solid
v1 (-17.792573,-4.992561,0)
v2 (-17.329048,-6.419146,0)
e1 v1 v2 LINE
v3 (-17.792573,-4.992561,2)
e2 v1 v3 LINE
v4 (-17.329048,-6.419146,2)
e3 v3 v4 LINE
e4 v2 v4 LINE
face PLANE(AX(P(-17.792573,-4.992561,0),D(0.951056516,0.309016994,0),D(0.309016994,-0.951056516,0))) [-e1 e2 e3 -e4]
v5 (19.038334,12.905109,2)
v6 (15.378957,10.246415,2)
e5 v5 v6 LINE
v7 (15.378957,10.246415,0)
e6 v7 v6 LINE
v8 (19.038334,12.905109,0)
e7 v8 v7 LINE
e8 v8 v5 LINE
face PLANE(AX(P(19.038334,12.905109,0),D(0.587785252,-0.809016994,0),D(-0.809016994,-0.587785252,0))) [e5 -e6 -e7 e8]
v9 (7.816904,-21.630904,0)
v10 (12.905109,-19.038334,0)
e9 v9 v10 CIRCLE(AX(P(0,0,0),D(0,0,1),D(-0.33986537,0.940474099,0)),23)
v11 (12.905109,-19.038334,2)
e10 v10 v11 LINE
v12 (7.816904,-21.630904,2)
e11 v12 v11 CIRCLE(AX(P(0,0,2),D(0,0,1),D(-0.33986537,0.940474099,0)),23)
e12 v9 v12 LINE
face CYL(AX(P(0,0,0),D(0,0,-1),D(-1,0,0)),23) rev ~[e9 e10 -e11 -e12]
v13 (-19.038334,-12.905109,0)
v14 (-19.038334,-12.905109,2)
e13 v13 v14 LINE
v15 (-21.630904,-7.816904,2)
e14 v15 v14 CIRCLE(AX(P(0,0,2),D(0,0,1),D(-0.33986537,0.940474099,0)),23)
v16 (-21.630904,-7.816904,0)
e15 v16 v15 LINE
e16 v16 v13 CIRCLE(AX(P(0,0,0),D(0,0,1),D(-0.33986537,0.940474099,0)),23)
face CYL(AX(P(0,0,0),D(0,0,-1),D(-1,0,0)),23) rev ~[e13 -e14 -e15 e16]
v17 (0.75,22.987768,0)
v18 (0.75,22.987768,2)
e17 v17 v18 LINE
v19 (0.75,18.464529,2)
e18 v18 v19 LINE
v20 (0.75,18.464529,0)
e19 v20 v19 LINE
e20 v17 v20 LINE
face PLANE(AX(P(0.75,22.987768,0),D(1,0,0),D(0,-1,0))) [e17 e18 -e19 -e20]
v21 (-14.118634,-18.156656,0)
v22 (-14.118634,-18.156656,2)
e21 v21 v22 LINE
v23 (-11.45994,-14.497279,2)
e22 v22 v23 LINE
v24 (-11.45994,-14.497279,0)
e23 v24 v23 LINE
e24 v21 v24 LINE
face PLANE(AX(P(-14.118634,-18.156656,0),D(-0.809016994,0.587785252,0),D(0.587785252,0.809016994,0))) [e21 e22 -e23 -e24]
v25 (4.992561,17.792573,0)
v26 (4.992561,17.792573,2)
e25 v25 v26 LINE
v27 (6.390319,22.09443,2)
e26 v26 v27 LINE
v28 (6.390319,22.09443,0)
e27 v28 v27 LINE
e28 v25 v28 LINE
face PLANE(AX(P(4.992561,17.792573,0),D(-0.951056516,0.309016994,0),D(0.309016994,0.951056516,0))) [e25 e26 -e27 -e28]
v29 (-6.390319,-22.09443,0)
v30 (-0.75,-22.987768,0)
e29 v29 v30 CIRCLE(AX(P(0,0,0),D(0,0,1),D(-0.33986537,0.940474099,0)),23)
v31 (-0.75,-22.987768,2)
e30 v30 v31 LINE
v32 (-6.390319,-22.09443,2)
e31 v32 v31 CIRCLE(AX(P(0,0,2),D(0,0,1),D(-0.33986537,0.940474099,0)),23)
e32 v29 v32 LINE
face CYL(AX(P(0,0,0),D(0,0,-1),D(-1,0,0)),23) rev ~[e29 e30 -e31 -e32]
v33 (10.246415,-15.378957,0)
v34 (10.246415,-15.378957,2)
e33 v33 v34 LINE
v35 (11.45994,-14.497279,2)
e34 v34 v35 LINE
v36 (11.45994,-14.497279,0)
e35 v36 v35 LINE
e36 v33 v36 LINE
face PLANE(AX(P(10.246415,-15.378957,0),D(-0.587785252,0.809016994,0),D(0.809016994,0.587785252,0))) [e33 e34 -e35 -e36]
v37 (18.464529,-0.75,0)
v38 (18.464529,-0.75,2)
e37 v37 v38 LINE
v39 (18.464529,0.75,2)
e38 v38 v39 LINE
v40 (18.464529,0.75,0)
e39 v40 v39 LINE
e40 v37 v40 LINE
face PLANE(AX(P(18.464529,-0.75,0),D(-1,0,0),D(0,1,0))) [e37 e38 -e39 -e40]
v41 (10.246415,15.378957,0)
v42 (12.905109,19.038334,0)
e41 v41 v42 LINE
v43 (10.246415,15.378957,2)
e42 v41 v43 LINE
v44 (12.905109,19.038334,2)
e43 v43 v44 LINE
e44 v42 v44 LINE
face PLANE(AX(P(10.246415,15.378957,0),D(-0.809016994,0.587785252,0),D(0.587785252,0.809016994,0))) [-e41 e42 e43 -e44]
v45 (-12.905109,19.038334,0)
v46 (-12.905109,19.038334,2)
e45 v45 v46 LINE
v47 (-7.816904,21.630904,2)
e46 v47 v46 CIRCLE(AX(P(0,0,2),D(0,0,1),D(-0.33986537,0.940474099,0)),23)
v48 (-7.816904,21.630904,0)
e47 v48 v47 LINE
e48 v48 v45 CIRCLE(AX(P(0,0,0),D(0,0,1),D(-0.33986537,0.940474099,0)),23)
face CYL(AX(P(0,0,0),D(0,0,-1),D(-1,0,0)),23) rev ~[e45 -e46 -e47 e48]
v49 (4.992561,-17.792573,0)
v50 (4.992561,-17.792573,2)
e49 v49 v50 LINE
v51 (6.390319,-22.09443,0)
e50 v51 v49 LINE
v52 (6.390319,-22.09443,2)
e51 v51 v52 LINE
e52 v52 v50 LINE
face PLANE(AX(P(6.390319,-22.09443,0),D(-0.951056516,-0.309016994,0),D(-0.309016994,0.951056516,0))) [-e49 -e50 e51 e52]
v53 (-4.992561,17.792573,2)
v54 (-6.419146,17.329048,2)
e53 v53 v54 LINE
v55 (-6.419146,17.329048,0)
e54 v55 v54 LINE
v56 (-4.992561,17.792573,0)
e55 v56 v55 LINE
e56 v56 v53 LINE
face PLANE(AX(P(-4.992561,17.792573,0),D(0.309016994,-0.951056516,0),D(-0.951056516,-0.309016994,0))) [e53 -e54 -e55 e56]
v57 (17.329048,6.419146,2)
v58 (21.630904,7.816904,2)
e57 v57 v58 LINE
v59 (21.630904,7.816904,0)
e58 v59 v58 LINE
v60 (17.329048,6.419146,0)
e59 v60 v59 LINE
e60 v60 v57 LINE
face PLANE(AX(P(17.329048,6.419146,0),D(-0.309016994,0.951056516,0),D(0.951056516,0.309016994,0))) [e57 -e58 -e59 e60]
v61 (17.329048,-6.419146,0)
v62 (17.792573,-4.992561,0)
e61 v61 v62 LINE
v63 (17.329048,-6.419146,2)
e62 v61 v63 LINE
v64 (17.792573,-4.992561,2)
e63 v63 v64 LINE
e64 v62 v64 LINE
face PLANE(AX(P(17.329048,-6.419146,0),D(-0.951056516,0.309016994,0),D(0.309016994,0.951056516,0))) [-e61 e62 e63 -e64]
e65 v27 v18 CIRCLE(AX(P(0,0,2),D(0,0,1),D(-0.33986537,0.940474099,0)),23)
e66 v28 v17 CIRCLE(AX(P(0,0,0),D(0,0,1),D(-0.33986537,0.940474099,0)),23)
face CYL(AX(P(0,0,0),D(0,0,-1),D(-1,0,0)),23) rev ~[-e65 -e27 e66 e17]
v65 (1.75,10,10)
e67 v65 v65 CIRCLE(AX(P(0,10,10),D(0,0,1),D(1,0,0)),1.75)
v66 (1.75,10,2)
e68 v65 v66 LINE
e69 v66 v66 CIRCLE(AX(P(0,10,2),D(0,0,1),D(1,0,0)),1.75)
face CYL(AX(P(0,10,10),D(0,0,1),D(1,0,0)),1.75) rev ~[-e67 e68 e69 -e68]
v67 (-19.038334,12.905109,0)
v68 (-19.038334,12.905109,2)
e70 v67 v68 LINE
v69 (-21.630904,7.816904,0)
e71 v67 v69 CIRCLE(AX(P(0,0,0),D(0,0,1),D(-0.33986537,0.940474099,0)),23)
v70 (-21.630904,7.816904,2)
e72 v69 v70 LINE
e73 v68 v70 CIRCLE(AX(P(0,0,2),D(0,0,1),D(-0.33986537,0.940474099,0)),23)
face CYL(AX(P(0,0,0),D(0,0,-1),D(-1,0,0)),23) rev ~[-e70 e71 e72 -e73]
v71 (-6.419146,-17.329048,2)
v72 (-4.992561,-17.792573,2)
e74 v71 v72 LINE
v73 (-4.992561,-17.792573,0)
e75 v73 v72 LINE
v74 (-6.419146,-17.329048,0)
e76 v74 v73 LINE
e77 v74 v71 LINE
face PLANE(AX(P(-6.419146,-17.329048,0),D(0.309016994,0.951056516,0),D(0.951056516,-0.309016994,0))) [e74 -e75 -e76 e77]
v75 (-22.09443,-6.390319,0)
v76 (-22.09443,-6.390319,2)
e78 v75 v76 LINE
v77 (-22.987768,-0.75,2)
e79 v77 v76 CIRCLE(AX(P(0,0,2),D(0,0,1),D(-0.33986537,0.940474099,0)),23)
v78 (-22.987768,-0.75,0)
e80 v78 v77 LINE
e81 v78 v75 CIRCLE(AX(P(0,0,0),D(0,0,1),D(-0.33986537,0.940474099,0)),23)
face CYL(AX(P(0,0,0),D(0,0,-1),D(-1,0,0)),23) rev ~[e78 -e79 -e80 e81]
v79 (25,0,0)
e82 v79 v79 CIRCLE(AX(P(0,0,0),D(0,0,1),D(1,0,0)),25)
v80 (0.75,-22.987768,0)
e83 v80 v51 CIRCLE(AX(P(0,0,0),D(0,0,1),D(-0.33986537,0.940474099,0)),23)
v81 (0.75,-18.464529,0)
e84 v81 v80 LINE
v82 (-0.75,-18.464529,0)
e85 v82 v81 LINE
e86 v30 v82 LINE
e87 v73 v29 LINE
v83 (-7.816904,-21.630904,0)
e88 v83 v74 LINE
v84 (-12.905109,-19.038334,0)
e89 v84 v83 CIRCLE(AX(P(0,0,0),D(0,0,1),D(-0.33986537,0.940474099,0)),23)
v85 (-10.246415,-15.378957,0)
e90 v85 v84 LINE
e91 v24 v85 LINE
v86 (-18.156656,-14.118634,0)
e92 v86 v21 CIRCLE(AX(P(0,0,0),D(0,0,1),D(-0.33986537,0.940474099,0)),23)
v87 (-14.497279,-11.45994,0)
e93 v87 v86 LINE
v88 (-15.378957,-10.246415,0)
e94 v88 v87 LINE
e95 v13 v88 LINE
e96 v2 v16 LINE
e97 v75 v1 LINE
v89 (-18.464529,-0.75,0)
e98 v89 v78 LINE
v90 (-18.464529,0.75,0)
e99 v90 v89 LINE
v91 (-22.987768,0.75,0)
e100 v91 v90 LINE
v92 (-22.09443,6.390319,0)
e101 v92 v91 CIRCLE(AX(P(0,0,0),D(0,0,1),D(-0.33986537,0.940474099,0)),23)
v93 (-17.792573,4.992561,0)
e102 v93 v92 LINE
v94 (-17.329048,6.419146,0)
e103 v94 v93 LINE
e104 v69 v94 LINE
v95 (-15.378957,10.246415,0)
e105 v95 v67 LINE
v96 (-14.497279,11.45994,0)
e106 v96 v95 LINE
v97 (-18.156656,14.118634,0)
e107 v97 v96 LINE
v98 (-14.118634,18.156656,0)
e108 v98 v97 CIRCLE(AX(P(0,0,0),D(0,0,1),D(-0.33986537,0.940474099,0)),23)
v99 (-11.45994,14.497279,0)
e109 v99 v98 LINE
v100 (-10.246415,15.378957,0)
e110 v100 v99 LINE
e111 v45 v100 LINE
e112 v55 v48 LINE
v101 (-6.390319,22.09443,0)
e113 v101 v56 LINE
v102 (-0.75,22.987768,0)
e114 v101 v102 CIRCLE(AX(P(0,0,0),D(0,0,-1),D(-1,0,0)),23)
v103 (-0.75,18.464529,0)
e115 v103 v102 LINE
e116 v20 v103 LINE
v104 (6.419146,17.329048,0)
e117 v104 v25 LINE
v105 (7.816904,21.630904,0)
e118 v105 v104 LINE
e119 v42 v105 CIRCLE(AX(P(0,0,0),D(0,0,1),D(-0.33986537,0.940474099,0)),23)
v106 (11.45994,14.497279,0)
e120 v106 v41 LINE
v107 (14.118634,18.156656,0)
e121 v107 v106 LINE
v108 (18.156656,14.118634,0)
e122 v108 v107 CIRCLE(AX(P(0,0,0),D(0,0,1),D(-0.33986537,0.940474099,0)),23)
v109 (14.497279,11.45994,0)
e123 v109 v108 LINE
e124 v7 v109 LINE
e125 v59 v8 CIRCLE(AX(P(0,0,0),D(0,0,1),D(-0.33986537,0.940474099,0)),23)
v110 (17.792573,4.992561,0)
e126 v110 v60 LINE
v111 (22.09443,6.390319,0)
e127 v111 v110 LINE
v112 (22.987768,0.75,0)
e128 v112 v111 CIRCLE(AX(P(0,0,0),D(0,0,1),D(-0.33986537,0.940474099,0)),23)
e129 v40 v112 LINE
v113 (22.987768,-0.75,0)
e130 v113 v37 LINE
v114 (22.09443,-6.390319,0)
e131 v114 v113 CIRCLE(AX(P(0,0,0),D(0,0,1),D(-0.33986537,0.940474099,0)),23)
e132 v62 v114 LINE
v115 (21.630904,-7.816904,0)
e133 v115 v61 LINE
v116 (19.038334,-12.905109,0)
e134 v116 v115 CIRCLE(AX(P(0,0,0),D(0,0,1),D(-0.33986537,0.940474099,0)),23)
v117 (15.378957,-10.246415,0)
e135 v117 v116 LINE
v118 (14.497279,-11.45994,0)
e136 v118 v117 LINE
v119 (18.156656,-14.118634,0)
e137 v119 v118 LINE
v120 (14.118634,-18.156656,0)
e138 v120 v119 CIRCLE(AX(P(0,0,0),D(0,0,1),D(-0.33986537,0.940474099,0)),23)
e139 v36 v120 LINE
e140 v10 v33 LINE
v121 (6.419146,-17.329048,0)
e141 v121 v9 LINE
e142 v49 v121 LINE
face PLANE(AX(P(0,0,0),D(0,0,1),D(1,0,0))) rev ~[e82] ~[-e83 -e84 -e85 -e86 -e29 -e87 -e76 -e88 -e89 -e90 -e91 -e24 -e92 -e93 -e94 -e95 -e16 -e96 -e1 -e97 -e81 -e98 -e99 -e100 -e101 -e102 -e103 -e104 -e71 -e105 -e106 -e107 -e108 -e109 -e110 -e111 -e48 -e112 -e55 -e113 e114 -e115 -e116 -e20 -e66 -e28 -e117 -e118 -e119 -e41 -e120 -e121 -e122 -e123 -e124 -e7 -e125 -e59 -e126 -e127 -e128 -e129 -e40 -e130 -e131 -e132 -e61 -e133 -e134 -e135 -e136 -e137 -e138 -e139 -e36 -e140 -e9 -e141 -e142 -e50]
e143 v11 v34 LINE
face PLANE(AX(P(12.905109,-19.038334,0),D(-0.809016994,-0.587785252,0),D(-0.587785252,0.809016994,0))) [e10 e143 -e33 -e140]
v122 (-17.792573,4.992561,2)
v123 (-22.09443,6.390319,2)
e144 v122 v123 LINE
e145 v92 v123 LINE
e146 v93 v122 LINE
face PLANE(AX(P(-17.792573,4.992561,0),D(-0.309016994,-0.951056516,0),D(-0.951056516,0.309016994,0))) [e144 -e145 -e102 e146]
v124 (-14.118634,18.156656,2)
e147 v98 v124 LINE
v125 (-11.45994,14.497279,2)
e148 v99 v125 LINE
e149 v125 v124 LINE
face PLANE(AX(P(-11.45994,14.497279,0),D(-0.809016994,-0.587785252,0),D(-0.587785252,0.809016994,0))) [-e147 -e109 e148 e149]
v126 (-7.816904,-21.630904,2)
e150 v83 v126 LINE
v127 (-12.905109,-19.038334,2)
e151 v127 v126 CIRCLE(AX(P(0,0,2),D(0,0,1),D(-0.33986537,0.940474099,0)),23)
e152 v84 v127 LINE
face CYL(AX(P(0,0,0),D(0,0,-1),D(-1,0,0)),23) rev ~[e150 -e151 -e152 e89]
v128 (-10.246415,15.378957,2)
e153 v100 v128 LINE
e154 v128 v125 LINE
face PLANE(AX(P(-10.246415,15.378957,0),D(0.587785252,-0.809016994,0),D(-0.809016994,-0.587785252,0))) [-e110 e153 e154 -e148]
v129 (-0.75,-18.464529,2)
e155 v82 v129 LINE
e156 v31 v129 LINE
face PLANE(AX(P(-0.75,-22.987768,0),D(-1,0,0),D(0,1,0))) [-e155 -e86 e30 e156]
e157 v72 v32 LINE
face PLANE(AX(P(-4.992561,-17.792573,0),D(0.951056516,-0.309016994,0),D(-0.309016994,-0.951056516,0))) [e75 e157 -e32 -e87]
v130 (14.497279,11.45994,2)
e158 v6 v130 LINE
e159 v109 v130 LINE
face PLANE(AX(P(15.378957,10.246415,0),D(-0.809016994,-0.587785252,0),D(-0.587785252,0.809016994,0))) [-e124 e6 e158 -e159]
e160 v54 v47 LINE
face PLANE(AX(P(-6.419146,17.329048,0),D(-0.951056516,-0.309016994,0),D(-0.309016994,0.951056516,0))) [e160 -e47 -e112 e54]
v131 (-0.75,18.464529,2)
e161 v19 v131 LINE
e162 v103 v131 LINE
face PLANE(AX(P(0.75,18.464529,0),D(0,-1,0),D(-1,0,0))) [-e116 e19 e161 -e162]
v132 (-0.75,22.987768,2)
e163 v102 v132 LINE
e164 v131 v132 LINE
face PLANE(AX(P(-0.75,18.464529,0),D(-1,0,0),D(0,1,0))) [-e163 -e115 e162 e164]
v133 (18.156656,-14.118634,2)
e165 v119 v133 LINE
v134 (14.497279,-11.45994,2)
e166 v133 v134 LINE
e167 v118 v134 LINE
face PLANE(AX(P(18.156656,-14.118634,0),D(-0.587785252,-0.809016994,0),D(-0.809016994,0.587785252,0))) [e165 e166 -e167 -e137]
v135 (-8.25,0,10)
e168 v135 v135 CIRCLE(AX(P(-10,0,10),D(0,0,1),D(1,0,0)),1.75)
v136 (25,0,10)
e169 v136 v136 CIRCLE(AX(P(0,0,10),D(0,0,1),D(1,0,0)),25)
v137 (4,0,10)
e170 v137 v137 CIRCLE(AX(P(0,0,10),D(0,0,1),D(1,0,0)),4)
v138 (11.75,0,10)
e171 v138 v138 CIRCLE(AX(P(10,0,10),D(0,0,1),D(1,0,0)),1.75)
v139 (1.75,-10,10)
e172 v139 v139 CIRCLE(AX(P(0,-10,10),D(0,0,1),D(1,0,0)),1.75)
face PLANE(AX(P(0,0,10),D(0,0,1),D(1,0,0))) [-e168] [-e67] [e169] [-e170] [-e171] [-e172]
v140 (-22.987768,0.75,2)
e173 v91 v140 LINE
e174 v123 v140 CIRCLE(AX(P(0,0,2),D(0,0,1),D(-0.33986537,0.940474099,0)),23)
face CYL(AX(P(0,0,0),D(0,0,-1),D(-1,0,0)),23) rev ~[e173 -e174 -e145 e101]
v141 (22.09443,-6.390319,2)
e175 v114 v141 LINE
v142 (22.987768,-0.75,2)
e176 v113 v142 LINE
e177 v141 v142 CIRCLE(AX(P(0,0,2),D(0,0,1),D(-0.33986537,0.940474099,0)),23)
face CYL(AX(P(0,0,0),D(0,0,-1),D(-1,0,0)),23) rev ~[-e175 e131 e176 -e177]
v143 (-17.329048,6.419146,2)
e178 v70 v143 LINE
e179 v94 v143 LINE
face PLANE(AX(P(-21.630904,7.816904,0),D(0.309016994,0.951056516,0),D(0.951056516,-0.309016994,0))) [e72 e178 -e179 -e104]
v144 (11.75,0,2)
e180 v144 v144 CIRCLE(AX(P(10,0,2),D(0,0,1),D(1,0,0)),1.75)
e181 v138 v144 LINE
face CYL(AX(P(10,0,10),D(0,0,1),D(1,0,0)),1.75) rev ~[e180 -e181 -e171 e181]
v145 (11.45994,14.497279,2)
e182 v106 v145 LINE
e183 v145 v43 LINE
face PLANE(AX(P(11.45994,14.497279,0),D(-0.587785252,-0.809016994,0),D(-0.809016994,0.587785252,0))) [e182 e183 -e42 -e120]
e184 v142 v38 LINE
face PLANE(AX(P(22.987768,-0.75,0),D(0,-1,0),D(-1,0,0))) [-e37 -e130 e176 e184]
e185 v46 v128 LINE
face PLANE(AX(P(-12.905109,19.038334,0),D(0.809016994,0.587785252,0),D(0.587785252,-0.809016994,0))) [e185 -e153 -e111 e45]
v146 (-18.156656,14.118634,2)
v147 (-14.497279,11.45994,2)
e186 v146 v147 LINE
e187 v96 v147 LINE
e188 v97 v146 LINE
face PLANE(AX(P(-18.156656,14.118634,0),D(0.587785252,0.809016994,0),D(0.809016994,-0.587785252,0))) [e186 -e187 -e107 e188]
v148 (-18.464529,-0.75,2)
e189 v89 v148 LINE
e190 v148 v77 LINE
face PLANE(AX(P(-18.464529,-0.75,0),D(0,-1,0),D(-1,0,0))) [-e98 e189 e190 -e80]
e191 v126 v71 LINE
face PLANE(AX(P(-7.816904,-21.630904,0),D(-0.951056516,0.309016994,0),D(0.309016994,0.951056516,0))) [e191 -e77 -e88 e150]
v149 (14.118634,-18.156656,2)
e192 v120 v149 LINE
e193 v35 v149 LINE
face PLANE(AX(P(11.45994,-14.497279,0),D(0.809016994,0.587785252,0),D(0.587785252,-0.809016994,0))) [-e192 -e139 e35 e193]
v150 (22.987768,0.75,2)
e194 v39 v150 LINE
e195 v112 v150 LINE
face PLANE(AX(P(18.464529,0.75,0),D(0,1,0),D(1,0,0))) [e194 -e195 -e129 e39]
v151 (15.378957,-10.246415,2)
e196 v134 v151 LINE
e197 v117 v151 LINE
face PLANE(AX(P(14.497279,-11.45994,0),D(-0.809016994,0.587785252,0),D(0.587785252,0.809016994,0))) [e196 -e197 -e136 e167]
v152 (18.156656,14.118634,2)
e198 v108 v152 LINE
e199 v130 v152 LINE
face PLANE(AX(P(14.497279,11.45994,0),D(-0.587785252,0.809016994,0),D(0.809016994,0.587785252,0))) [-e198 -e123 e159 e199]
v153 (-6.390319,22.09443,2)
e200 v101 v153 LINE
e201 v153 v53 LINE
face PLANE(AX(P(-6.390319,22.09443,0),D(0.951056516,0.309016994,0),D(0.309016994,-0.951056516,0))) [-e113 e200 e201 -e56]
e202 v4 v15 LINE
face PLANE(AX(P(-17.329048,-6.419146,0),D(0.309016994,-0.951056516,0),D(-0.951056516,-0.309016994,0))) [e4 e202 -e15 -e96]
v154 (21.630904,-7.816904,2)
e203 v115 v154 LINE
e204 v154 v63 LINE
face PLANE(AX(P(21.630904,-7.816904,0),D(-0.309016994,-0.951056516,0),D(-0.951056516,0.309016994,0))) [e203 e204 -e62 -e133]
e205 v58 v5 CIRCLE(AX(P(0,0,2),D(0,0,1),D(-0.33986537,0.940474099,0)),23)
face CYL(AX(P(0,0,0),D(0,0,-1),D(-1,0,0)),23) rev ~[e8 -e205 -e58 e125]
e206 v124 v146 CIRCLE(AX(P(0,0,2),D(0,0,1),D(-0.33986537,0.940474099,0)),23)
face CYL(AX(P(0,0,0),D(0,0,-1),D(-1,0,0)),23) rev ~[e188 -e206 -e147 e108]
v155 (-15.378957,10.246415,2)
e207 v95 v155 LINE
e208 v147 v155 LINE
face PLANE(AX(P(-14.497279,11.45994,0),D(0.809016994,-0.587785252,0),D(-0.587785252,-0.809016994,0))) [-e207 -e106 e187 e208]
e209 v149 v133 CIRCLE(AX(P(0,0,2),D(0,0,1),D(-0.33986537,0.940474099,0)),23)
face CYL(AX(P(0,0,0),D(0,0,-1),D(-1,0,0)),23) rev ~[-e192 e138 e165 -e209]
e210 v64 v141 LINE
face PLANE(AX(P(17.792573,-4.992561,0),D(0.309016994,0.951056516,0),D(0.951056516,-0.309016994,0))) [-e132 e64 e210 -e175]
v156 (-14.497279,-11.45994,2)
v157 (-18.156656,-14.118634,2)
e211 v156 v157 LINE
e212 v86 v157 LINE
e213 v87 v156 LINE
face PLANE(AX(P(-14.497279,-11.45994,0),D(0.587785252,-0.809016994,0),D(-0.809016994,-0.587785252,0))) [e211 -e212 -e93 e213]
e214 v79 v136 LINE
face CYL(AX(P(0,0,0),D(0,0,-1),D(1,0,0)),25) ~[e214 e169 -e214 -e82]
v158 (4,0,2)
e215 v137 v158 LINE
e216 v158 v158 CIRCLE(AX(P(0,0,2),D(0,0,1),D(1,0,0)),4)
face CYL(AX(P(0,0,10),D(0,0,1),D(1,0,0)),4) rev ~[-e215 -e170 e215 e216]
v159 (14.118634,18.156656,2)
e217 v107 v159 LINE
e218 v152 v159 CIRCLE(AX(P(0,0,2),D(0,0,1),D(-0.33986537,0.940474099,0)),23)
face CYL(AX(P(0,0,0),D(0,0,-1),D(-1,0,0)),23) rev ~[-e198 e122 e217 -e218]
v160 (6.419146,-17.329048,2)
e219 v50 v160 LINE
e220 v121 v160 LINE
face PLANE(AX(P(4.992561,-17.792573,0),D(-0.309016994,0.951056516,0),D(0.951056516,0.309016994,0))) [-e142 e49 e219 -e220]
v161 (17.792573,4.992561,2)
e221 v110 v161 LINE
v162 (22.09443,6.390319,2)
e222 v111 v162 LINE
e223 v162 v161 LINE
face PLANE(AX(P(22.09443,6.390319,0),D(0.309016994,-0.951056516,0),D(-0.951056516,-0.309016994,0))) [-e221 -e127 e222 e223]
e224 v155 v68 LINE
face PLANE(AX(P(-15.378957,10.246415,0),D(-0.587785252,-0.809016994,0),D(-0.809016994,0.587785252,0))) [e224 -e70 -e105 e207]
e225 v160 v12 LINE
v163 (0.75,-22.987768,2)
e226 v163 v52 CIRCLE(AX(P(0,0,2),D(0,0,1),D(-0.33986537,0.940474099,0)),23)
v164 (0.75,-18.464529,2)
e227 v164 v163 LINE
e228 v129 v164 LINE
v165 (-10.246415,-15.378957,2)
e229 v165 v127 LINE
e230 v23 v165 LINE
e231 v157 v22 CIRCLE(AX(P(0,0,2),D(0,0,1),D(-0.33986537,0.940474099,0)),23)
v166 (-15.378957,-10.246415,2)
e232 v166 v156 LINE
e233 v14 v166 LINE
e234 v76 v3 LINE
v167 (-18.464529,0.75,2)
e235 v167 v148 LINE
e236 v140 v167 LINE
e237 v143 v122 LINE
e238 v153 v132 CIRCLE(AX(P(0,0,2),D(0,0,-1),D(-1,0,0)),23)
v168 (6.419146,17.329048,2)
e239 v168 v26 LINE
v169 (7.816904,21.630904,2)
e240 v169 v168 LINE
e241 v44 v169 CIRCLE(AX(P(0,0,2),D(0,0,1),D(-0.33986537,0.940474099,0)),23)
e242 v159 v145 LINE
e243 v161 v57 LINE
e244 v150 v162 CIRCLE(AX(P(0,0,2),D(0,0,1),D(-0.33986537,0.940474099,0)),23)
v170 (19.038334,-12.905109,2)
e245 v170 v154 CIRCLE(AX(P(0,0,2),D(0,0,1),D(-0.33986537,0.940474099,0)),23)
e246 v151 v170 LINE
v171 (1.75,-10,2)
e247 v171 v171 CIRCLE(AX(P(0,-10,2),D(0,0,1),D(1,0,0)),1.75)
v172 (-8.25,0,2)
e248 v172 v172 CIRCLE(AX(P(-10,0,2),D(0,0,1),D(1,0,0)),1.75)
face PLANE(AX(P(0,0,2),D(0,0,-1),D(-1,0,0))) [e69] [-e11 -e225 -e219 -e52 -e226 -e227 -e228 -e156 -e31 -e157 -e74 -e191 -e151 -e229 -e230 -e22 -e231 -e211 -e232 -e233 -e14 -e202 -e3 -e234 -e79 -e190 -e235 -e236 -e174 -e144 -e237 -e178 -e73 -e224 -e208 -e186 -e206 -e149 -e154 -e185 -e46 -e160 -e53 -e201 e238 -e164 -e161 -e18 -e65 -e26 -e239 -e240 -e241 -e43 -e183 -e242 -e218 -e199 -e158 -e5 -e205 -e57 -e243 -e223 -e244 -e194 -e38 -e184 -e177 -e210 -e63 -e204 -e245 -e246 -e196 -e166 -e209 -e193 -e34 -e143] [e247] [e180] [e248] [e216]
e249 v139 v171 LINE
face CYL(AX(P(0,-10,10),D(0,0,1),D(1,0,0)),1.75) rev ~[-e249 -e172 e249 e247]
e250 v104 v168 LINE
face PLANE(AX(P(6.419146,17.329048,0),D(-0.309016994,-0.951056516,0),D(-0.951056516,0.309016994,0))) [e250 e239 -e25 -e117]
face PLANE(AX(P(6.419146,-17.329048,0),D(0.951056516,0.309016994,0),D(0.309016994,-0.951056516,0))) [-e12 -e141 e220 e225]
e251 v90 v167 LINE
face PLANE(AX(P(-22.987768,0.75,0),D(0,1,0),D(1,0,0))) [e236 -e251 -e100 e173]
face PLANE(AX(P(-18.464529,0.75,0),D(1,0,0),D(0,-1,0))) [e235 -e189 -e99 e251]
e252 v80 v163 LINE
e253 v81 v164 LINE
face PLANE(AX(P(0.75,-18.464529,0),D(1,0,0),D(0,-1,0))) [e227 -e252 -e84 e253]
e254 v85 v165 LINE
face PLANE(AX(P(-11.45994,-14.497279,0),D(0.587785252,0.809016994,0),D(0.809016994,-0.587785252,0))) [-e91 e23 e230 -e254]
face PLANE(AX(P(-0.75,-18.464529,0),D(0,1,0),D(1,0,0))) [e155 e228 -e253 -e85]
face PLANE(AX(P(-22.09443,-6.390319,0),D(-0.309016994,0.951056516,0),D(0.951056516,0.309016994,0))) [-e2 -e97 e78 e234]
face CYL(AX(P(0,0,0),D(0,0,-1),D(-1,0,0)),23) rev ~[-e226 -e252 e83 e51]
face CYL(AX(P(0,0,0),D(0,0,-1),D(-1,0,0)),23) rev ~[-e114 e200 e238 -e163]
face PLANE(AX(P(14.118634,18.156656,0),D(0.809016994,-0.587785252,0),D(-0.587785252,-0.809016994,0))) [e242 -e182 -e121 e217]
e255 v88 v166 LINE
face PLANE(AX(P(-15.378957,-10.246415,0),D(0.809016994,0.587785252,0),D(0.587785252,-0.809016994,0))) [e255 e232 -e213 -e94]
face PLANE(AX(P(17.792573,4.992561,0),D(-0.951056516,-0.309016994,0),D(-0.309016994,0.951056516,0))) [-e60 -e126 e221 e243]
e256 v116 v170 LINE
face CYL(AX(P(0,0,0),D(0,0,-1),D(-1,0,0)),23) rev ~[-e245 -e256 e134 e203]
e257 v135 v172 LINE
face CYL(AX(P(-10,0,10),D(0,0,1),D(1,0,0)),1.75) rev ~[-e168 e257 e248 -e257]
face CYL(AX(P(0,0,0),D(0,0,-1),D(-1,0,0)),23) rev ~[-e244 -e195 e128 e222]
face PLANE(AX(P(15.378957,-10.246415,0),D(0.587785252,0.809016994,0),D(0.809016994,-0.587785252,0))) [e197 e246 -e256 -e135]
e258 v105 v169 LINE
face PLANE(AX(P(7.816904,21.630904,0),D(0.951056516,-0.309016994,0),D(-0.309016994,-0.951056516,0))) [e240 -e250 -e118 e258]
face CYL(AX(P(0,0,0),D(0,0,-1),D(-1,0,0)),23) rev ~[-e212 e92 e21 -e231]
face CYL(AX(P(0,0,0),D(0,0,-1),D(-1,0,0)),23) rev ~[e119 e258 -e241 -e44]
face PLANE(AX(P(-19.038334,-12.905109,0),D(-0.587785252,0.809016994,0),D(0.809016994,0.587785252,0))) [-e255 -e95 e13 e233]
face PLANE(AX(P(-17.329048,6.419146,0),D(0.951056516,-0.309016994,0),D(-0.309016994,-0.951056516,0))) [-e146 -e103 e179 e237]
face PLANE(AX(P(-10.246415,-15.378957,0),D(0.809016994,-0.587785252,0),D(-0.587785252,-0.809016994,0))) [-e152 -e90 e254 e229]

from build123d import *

# Parameters (mm, degrees)
SKETCH1_R           = 25
BOSS_EXTRUDE1_DEPTH = 10
SKETCH2_R           = 23
CUT_EXTRUDE1_DEPTH  = 2
SKETCH3_R           = 4
SKETCH3_R_2         = 1.75
CUT_EXTRUDE2_DEPTH  = 37.742346142
BOSS_EXTRUDE2_START = 2
BOSS_EXTRUDE2_DEPTH = 2
CIRPATTERN1_COUNT   = 20


with BuildPart() as part:
    # Sketch1 → Boss-Extrude1 (new body)
    with BuildSketch(Plane.XY):
        Circle(SKETCH1_R)
    extrude(amount=BOSS_EXTRUDE1_DEPTH)

    # Sketch2 → Cut-Extrude1 (cut)
    with BuildSketch(Plane(origin=(0, 0, 0), x_dir=(-1, 0, 0), z_dir=(0, 0, -1))):
        Circle(SKETCH2_R)
    extrude(amount=-CUT_EXTRUDE1_DEPTH, mode=Mode.SUBTRACT)

    # Sketch3 → Cut-Extrude2 (cut, through all)
    with BuildSketch(Plane.XY.offset(10)):
        Circle(SKETCH3_R)
        with Locations((10, 0)):
            Circle(SKETCH3_R_2)
        with Locations((0, -10)):
            Circle(SKETCH3_R_2)
        with Locations((-10, 0)):
            Circle(SKETCH3_R_2)
        with Locations((0, 10)):
            Circle(SKETCH3_R_2)
    extrude(amount=-CUT_EXTRUDE2_DEPTH, mode=Mode.SUBTRACT)

    # Sketch4 → Boss-Extrude2 (add)
    with BuildSketch(Plane(origin=(0, 0, 2), x_dir=(-1, 0, 0), z_dir=(0, 0, -1)).offset(BOSS_EXTRUDE2_START)):
        with BuildLine():
            Line((-0.75, 22.987768487), (-0.75, 18.464528853))
            Line((-0.75, 18.464528853), (0.75, 18.464528853))
            Line((0.75, 18.464528853), (0.75, 22.987768487))
            ThreePointArc((0.75, 22.987768487), (0, 23), (-0.75, 22.987768487))
        make_face()
    boss_extrude2 = extrude(amount=-BOSS_EXTRUDE2_DEPTH)

    # CirPattern1: Boss-Extrude2 ×20 about axis
    cirpattern1_axis = Axis((0, 0, 0), (0, 0, 1))
    for i in range(1, CIRPATTERN1_COUNT):
        add(boss_extrude2.rotate(cirpattern1_axis, i * 360 / CIRPATTERN1_COUNT))


solid = part.part
